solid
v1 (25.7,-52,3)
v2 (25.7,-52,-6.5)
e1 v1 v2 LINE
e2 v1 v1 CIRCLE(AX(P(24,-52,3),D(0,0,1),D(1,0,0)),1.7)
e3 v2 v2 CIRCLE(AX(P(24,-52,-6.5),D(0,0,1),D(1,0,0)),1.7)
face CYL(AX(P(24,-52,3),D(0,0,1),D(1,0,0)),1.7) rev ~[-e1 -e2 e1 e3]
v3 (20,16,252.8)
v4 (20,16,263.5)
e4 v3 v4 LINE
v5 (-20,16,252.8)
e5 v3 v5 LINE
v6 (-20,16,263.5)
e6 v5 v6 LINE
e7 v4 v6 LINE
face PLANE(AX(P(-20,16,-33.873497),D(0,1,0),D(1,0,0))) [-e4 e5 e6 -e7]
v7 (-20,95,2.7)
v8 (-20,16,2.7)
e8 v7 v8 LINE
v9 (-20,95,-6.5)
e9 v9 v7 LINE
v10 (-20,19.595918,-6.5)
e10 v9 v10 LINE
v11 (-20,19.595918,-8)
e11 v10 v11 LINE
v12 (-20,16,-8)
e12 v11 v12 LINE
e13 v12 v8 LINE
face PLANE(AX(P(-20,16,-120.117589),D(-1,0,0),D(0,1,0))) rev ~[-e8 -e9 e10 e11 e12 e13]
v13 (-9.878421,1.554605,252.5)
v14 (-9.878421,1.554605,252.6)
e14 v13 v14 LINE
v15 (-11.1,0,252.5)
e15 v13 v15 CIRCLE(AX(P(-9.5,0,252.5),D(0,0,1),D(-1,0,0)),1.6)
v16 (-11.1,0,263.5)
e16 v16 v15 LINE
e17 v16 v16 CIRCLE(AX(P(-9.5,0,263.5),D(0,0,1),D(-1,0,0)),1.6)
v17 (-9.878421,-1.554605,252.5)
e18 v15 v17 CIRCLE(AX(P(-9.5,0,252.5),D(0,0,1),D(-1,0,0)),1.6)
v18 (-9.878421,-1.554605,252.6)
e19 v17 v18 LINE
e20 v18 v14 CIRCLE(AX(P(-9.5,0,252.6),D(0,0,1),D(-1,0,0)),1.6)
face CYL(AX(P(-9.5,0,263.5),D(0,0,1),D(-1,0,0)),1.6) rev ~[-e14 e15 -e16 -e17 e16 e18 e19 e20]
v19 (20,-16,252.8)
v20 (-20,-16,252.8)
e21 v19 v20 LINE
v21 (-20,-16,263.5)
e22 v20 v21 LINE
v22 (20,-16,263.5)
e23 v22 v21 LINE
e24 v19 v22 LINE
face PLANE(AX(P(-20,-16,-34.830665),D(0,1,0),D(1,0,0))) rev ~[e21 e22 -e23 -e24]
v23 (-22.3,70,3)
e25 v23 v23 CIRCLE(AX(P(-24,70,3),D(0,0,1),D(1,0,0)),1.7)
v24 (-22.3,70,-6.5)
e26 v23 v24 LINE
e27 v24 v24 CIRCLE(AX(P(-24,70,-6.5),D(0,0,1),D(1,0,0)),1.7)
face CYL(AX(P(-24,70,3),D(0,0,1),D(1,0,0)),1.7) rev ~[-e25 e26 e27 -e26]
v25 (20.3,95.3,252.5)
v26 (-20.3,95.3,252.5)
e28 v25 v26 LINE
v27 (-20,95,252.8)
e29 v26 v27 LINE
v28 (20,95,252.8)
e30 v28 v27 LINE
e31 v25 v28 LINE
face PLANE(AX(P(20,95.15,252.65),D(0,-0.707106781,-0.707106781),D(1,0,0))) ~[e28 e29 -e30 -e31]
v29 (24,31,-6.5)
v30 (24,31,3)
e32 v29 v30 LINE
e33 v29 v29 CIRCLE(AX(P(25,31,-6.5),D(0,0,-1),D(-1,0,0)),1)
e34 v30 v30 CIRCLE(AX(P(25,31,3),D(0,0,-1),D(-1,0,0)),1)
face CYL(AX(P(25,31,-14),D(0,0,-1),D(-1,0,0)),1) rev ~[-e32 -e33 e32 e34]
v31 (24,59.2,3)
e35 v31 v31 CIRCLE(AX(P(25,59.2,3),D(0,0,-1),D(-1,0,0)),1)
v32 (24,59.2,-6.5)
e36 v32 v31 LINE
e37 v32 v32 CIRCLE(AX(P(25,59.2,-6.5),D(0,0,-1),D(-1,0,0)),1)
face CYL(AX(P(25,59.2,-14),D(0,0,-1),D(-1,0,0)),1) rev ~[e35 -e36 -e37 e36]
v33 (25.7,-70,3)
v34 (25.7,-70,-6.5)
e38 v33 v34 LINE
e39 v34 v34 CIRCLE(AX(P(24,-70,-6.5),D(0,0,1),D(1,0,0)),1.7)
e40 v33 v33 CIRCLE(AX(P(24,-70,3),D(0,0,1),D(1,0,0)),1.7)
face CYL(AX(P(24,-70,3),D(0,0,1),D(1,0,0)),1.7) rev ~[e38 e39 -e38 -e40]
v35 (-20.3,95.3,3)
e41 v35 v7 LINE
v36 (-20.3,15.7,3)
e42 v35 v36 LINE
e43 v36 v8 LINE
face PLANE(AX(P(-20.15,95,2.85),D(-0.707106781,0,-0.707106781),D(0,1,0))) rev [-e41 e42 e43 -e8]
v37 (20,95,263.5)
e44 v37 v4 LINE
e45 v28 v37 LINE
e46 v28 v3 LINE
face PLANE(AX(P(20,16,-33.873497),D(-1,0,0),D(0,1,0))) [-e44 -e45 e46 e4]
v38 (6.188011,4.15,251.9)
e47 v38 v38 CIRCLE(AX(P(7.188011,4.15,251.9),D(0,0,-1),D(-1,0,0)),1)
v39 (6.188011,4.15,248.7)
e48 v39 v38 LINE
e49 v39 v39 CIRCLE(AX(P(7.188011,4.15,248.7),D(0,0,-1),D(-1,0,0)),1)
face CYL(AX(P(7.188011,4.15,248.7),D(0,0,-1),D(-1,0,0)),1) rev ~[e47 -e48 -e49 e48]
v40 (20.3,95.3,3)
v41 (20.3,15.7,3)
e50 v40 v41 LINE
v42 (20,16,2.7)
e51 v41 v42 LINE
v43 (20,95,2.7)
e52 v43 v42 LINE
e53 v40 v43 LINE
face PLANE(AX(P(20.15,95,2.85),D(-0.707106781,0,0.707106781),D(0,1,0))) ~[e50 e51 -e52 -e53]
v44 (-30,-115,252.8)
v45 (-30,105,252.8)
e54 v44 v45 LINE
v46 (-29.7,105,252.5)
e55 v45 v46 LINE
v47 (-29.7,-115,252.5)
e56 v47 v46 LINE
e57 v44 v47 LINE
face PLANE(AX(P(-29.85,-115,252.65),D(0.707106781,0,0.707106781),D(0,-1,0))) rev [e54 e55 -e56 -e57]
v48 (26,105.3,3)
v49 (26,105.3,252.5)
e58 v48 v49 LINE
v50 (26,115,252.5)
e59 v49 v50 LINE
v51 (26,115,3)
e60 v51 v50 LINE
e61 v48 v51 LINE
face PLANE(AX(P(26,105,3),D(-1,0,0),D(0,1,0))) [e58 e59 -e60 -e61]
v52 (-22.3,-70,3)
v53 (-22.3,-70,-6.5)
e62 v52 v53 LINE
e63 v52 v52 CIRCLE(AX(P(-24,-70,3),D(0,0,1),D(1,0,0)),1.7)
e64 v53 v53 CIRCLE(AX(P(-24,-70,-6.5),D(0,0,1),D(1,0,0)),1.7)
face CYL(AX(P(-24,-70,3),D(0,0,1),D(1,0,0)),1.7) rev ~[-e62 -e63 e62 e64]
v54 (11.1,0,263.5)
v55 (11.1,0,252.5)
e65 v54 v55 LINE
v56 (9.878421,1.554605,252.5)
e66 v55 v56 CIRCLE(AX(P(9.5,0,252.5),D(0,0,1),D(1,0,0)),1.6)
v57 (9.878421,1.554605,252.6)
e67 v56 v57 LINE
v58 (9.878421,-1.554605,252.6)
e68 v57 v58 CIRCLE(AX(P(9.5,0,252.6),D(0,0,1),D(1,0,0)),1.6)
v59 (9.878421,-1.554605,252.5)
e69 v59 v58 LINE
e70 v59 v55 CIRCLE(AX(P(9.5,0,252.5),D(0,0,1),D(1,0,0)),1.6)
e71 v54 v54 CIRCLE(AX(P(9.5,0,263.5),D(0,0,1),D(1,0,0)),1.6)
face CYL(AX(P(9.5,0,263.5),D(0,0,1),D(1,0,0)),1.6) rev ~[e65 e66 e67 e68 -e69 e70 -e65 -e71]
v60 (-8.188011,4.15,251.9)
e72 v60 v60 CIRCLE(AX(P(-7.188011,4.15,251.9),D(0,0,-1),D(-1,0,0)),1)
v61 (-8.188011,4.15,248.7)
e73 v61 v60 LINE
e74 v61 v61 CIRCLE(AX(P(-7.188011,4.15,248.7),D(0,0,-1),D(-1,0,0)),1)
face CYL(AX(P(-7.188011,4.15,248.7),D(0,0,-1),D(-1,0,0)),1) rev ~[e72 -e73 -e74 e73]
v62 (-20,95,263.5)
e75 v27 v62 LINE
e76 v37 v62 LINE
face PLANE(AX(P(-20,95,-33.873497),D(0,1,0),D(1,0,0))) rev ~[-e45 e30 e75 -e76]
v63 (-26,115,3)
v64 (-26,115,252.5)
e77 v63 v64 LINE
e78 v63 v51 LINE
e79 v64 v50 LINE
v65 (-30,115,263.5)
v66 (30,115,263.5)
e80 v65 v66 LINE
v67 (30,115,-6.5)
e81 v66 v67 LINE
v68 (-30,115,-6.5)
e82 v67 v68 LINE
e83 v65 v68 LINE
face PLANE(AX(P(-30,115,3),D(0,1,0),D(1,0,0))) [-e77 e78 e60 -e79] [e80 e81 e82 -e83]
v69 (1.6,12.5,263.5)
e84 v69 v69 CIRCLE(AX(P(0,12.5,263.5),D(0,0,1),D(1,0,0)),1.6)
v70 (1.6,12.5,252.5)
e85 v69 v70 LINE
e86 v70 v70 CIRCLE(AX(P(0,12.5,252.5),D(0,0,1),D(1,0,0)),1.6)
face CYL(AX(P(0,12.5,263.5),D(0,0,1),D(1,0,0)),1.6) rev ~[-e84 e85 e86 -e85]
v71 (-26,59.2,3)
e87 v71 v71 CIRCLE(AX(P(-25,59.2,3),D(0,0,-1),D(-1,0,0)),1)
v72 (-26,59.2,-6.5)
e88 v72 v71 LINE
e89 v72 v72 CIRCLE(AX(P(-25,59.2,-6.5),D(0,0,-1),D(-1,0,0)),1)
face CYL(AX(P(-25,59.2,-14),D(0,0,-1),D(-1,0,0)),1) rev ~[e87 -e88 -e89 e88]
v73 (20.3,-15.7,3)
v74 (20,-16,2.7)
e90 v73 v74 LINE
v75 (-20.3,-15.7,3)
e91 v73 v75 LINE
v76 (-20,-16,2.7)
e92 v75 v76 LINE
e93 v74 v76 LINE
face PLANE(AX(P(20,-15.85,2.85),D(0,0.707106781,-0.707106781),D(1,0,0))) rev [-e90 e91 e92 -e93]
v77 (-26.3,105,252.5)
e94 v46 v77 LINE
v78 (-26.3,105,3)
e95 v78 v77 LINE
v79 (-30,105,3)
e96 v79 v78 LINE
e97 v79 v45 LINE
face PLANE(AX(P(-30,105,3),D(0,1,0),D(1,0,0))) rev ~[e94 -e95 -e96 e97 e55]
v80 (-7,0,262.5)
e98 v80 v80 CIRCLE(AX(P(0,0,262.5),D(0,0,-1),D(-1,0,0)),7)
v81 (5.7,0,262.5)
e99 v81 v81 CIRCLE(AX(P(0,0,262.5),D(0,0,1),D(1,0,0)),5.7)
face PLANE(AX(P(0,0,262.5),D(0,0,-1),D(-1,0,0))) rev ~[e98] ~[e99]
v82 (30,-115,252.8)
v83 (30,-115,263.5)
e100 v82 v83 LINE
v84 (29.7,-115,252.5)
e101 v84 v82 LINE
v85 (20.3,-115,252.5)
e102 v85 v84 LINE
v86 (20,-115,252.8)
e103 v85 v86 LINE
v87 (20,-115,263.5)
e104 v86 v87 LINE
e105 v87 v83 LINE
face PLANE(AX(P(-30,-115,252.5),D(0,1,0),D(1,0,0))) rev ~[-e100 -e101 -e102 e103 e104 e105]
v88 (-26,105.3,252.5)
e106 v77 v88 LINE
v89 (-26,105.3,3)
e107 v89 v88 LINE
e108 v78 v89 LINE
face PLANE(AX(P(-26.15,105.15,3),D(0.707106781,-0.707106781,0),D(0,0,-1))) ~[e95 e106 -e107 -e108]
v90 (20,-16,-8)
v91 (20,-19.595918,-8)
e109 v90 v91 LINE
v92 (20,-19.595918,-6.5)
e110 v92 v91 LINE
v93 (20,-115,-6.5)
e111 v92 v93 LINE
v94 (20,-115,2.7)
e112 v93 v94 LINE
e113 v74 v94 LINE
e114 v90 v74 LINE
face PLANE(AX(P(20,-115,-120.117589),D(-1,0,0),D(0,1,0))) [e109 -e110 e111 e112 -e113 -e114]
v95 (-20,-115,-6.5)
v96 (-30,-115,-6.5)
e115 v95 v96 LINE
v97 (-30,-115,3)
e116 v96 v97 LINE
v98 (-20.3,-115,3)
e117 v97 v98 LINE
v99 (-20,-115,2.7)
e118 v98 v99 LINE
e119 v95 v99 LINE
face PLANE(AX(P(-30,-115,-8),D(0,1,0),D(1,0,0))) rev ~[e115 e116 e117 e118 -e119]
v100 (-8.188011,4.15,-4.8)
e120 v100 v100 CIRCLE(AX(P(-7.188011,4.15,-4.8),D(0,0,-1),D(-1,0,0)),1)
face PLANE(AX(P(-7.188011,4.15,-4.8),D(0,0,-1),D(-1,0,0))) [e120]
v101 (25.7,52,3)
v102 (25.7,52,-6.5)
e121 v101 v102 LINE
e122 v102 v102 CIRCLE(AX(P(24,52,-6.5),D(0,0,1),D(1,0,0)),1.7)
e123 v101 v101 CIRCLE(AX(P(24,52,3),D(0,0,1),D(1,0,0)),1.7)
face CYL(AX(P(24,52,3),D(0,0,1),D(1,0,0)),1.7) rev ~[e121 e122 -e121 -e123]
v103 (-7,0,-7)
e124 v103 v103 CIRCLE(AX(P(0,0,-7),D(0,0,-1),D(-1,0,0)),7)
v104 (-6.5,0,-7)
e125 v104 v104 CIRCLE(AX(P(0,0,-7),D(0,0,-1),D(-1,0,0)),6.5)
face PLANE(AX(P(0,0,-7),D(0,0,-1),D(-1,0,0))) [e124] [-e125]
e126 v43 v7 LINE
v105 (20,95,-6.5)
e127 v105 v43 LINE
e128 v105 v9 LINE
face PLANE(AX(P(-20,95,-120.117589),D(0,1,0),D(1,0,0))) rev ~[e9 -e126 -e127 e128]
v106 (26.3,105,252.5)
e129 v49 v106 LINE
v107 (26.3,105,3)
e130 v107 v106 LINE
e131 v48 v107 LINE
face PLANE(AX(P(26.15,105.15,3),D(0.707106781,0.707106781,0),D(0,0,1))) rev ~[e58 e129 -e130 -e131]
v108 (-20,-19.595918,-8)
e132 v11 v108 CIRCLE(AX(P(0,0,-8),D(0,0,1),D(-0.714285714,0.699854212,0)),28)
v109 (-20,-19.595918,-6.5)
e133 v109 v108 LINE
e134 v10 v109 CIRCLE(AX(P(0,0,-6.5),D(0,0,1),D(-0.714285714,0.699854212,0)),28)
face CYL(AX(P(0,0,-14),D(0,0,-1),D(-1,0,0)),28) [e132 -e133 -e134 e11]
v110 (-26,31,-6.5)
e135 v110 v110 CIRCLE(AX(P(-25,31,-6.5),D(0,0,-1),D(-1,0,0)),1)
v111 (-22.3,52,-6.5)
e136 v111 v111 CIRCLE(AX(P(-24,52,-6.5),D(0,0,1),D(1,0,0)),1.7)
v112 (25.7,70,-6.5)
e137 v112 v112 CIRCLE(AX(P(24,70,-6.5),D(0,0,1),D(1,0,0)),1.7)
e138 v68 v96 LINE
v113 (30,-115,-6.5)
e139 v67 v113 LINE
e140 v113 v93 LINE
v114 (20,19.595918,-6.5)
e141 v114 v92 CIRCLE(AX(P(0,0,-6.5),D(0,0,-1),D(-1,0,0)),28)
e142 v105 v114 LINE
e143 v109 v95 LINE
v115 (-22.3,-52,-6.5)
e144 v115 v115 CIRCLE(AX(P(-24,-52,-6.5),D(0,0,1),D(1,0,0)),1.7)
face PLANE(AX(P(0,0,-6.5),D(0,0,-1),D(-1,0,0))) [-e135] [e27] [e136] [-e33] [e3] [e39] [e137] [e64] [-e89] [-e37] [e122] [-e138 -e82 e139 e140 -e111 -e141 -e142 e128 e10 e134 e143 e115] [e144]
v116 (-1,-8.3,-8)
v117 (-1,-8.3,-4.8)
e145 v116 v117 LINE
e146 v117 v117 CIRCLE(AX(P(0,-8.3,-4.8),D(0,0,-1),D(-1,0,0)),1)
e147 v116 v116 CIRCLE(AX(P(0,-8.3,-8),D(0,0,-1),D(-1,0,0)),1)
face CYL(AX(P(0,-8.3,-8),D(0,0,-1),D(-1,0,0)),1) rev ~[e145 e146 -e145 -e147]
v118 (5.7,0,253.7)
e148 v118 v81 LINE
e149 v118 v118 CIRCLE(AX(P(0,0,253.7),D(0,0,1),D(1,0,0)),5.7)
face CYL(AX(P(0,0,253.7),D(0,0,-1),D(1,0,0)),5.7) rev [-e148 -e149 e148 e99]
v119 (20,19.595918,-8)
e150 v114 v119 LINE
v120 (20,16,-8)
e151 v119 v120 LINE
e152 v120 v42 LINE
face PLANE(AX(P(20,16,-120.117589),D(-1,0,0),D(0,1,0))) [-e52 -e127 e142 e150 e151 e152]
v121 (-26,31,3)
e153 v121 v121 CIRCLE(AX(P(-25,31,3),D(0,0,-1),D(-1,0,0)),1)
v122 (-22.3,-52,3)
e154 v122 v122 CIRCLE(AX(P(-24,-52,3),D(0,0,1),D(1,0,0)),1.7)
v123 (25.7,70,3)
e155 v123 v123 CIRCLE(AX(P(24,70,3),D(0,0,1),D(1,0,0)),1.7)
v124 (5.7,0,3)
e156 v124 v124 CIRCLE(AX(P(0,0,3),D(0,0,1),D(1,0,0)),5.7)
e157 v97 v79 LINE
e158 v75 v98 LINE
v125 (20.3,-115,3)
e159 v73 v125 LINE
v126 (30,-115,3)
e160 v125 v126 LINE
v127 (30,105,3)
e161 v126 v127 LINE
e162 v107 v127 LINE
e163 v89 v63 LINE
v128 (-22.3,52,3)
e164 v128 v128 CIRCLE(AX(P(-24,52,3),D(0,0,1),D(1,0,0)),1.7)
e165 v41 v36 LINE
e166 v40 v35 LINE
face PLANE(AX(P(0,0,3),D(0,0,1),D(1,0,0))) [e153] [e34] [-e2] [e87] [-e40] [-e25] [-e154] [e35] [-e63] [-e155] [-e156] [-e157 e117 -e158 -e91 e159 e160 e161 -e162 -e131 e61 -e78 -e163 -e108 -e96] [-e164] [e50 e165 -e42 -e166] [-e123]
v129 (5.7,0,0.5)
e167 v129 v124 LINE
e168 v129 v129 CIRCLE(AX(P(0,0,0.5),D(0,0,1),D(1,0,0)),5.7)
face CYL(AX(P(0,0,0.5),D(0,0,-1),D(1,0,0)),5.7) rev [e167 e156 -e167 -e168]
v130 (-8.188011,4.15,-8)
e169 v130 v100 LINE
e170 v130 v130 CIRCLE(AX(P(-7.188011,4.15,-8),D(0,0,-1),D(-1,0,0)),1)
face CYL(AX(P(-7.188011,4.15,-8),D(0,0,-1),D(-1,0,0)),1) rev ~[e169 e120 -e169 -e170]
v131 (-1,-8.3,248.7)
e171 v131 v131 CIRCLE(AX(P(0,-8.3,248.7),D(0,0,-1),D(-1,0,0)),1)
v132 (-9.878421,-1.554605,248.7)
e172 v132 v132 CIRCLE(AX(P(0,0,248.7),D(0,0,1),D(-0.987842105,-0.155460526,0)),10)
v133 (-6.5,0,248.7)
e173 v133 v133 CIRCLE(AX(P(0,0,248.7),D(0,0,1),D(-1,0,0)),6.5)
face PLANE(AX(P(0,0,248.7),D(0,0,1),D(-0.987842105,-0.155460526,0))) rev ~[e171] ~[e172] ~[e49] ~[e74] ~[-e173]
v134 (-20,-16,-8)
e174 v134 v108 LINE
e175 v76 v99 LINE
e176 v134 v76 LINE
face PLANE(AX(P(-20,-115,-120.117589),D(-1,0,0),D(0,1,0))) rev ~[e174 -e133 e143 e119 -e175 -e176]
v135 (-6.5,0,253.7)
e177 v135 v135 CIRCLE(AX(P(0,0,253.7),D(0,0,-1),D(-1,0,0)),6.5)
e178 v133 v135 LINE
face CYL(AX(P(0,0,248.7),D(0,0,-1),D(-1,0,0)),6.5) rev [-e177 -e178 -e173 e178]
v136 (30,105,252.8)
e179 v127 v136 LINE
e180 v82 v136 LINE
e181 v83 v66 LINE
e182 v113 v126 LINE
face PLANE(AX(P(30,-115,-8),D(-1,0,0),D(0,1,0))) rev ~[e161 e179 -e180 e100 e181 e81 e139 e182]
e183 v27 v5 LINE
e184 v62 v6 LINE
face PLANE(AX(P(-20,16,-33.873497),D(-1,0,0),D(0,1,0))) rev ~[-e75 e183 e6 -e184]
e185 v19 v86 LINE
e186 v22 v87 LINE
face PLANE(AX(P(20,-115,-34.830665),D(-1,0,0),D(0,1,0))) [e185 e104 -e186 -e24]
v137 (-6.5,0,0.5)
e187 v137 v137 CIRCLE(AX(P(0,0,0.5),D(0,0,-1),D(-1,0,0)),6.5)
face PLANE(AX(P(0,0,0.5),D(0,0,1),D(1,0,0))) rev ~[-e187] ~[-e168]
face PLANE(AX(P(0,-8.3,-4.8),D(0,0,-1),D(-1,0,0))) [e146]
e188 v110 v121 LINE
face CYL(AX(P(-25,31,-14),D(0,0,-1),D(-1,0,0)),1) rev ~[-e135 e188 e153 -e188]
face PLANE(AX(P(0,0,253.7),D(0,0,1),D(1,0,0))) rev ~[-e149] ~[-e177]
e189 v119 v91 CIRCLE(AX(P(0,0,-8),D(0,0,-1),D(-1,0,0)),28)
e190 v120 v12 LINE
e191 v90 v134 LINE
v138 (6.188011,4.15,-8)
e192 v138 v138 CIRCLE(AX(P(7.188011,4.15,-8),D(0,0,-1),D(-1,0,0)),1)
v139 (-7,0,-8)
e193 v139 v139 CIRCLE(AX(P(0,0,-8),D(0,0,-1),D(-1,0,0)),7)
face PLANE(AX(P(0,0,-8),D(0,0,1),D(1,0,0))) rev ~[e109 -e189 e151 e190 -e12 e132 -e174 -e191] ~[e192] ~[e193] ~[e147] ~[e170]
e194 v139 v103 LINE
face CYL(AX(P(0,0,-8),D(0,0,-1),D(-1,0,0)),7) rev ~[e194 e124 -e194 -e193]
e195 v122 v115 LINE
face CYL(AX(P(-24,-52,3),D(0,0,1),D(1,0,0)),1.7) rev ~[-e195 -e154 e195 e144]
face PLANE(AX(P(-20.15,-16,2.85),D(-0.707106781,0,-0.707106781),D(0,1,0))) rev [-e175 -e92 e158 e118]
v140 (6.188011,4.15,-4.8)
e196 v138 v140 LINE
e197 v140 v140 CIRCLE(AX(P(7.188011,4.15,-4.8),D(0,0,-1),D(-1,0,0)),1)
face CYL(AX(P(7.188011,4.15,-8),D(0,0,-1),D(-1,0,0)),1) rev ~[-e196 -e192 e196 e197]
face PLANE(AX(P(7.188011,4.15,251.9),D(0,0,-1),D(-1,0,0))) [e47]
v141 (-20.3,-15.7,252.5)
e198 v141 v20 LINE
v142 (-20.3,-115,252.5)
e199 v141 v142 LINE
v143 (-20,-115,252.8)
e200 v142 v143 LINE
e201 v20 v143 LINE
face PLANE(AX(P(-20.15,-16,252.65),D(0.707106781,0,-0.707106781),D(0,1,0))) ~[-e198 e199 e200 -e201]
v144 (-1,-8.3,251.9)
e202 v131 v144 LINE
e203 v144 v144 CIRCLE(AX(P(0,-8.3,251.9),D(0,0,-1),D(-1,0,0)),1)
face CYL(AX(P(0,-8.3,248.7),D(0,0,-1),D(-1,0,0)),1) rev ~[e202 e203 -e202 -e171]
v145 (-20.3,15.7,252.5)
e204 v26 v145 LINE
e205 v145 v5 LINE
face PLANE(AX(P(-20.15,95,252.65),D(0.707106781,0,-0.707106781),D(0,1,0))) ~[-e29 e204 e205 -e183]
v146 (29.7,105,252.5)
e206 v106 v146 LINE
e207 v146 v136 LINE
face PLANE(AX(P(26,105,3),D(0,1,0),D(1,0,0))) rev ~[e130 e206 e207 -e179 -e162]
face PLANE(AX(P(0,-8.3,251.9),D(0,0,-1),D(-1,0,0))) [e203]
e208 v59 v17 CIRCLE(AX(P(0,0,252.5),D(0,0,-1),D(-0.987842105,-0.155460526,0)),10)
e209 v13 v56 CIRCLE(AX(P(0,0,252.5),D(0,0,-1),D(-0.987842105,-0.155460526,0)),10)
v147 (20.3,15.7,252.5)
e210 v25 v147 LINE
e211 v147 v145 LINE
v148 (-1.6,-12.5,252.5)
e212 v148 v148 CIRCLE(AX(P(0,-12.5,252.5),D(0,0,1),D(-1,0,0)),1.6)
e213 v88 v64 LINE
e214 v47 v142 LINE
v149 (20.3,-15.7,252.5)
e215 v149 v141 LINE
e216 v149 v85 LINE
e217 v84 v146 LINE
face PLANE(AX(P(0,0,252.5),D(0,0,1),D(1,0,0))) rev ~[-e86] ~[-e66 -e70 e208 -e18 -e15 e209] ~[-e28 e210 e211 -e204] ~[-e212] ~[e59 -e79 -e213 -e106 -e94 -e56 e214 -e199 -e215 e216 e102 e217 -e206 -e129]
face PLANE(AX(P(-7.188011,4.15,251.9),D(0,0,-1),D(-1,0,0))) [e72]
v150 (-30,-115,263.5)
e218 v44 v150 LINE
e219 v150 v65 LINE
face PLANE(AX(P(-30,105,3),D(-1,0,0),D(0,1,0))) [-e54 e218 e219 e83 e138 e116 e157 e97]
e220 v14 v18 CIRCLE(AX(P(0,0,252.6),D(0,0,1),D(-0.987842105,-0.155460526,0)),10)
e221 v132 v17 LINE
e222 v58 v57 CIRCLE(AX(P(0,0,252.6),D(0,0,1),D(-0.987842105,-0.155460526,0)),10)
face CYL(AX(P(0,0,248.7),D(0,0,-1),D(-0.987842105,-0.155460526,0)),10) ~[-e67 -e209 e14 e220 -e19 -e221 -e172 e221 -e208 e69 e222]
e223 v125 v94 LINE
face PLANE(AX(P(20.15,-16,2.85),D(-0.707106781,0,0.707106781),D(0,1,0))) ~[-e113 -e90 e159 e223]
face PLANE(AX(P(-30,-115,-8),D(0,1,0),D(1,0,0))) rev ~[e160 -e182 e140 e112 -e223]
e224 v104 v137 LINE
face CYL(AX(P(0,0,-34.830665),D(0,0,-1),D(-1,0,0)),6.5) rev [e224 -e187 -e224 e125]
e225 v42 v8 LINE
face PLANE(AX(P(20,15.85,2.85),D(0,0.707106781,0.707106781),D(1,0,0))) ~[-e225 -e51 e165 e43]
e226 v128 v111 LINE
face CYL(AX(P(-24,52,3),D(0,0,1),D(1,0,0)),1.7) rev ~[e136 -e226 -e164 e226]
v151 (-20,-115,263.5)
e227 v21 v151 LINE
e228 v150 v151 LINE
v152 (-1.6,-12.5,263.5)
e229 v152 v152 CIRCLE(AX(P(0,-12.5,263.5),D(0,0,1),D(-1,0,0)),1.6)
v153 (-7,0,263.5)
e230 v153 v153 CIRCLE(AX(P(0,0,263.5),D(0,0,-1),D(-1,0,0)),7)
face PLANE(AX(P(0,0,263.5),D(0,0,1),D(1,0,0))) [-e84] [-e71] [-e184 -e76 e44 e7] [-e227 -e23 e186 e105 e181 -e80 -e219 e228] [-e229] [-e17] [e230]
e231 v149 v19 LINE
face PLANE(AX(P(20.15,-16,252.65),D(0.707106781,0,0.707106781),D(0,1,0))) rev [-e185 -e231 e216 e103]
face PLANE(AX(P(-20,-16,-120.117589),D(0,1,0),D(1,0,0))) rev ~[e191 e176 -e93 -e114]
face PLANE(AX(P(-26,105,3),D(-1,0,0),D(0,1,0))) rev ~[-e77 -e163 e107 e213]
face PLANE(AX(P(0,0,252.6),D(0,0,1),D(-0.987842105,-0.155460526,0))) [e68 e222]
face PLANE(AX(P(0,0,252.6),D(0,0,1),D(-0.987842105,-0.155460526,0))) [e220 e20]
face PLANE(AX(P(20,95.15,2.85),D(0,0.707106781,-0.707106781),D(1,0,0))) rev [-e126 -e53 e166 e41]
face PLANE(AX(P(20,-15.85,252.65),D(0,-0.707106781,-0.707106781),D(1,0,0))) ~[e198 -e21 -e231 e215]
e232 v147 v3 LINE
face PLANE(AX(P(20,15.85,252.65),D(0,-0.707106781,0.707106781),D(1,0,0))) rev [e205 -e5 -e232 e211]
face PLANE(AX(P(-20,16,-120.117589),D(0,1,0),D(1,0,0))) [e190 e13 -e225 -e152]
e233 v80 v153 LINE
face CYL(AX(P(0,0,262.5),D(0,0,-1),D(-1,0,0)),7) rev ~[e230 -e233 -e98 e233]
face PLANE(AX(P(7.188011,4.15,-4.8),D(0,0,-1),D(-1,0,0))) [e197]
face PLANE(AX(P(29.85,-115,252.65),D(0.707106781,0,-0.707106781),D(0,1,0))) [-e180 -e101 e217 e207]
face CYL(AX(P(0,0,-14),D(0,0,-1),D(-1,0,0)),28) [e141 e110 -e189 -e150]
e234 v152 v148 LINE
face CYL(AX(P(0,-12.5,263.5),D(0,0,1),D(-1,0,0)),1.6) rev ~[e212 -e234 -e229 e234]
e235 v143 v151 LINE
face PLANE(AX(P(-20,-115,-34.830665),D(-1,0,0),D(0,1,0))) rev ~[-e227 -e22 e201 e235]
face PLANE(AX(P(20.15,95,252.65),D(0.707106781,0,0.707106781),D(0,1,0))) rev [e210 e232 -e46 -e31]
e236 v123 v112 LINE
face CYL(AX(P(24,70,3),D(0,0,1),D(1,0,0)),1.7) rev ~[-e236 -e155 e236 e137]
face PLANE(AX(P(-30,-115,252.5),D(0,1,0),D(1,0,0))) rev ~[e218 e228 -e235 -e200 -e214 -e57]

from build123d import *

# Parameters (mm, degrees)
BOSS_EXTRUDE1_START                            = -8
SKETCH1_W                                      = 60
SKETCH1_H                                      = 230
BOSS_EXTRUDE1_DEPTH                            = 11
CUT_EXTRUDE1_DEPTH                             = 120.117588961
CUT_EXTRUDE1_DEPTH_BACK                        = 120.117588961
SKETCH2_W                                      = 40
SKETCH2_H                                      = 99
CUT_EXTRUDE2_DEPTH                             = 120.117588961
CUT_EXTRUDE2_DEPTH_BACK                        = 120.117588961
SKETCH3_W                                      = 40
SKETCH3_H                                      = 79
SKETCH4_W                                      = 60
SKETCH4_H                                      = 230
BOSS_EXTRUDE3_DEPTH                            = 11
CUT_EXTRUDE3_DEPTH                             = 297.373497466
CUT_EXTRUDE3_DEPTH_BACK                        = 297.373497466
SKETCH6_W                                      = 40
SKETCH6_H                                      = 79
CUT_EXTRUDE4_DEPTH                             = 287.33066549
CUT_EXTRUDE4_DEPTH_BACK                        = 287.33066549
SKETCH7_W                                      = 40
SKETCH7_H                                      = 99
SKETCH8_W                                      = 4
SKETCH8_H                                      = 10
BOSS_EXTRUDE4_DEPTH                            = 249.5
CUT_EXTRUDE13_DEPTH                            = 287.33066549
CUT_EXTRUDE13_DEPTH_BACK                       = 287.33066549
SKETCH9_R                                      = 6.5
CUT_EXTRUDE15_START                            = -10
SKETCH13_R                                     = 7
CUT_EXTRUDE15_DEPTH                            = 1
SKETCH14_R                                     = 7
CUT_EXTRUDE16_DEPTH                            = 1
CUT_EXTRUDE17_REACH                            = 298.373
SKETCH15_R                                     = 1.6
SKETCH17_W                                     = 10
SKETCH17_H                                     = 34
BOSS_EXTRUDE5_DEPTH                            = 6
CUT_EXTRUDE18_REACH                            = 303.88
SKETCH18_R                                     = 1
CHAMFER1_SIZE                                  = 0.3
CHAMFER2_SIZE                                  = 0.3
CHAMFER3_SIZE                                  = 0.3
CHAMFER4_SIZE                                  = 0.3
CHAMFER5_SIZE                                  = 0.3
UPPER_BEARING_HOUSING_EXTENSION_START          = 248.7
SKETCH19_R                                     = 10
SKETCH19_R_2                                   = 6.5
UPPER_BEARING_HOUSING_EXTENSION_DEPTH          = 3.9
LOWER_BEARING_OUTER_RACE_SHOULDER_START        = 0.5
SKETCH20_R                                     = 6.51
SKETCH20_R_2                                   = 5.7
LOWER_BEARING_OUTER_RACE_SHOULDER_DEPTH        = 2.5
UPPER_BEARING_OUTER_RACE_SHOULDER_START        = 253.7
SKETCH21_R                                     = 6.51
SKETCH21_R_2                                   = 5.7
UPPER_BEARING_OUTER_RACE_SHOULDER_DEPTH        = 8.8
SKETCH22_R                                     = 1.7
FOUR_STAGE_SUPPORT_D3P4_DEPTH                  = 17.01
SKETCH23_R                                     = 1
LOWER_RETAINER_M2_ENVELOPE_DEPTH               = 3.2
SKETCH24_R                                     = 1
UPPER_RETAINER_M2_ENVELOPE_DEPTH               = 3.2
SKETCH25_R                                     = 130
SKETCH25_R_2                                   = 28
PITCH_LINKAGE_UNDERSIDE_CLEARANCE_R28_UP_DEPTH = 7.5
SKETCH26_R                                     = 1.7
FOUR_LINK_FRAME_SUPPORT_HOLES_Y70_DEPTH        = 9.51


with BuildPart() as part:
    # Sketch1 → Boss-Extrude1 (new body)
    with BuildSketch(Plane.XY.offset(BOSS_EXTRUDE1_START)):
        Rectangle(SKETCH1_W, SKETCH1_H)
    extrude(amount=BOSS_EXTRUDE1_DEPTH)

    # Sketch2 → Cut-Extrude1 (cut, two sides: drawn at the far end of the back side and taken through both)
    with BuildSketch(Plane.XY.offset(-CUT_EXTRUDE1_DEPTH_BACK)):
        with Locations((0, -65.5)):
            Rectangle(SKETCH2_W, SKETCH2_H)
    extrude(amount=CUT_EXTRUDE1_DEPTH + CUT_EXTRUDE1_DEPTH_BACK, mode=Mode.SUBTRACT)

    # Sketch3 → Cut-Extrude2 (cut, two sides: drawn at the far end of the back side and taken through both)
    with BuildSketch(Plane.XY.offset(-CUT_EXTRUDE2_DEPTH_BACK)):
        with Locations((0, 55.5)):
            Rectangle(SKETCH3_W, SKETCH3_H)
    extrude(amount=CUT_EXTRUDE2_DEPTH + CUT_EXTRUDE2_DEPTH_BACK, mode=Mode.SUBTRACT)



with BuildPart() as body_2:
    # Sketch4 → Boss-Extrude3 (new body)
    with BuildSketch(Plane.XY.offset(252.5)):
        Rectangle(SKETCH4_W, SKETCH4_H)
    extrude(amount=BOSS_EXTRUDE3_DEPTH)

    # Sketch6 → Cut-Extrude3 (cut, two sides: drawn at the far end of the back side and taken through both)
    with BuildSketch(Plane.XY.offset(263.5).offset(-CUT_EXTRUDE3_DEPTH_BACK)):
        with Locations((0, 55.5)):
            Rectangle(SKETCH6_W, SKETCH6_H)
    extrude(amount=CUT_EXTRUDE3_DEPTH + CUT_EXTRUDE3_DEPTH_BACK, mode=Mode.SUBTRACT)

    # Sketch7 → Cut-Extrude4 (cut, two sides: drawn at the far end of the back side and taken through both)
    with BuildSketch(Plane.XY.offset(252.5).offset(-CUT_EXTRUDE4_DEPTH_BACK)):
        with Locations((0, -65.5)):
            Rectangle(SKETCH7_W, SKETCH7_H)
    extrude(amount=CUT_EXTRUDE4_DEPTH + CUT_EXTRUDE4_DEPTH_BACK, mode=Mode.SUBTRACT)


with BuildPart() as part_1:
    add(part.part)

    add(body_2.part)  # Boss-Extrude4 merges body 2
    # Sketch8 → Boss-Extrude4 (add)
    with BuildSketch(Plane.XY.offset(3)):
        with Locations((-28, 110)):
            Rectangle(SKETCH8_W, SKETCH8_H)
        with Locations((28, 110)):
            Rectangle(SKETCH8_W, SKETCH8_H)
    extrude(amount=BOSS_EXTRUDE4_DEPTH)

    # Sketch9 → Cut-Extrude13 (cut, two sides: drawn at the far end of the back side and taken through both)
    with BuildSketch(Plane.XY.offset(252.5).offset(-CUT_EXTRUDE13_DEPTH_BACK)):
        with Locations(Location((0, 0, 0), (0, 0, 180))):
            Circle(SKETCH9_R)
    extrude(amount=CUT_EXTRUDE13_DEPTH + CUT_EXTRUDE13_DEPTH_BACK, mode=Mode.SUBTRACT)

    # Sketch13 → Cut-Extrude15 (cut)
    with BuildSketch(Plane(origin=(0, 0, 252.5), x_dir=(-1, 0, 0), z_dir=(0, 0, -1)).offset(CUT_EXTRUDE15_START)):
        Circle(SKETCH13_R)
    extrude(amount=-CUT_EXTRUDE15_DEPTH, mode=Mode.SUBTRACT)

    # Sketch14 → Cut-Extrude16 (cut)
    with BuildSketch(Plane(origin=(0, 0, -8), x_dir=(-1, 0, 0), z_dir=(0, 0, -1))):
        Circle(SKETCH14_R)
    extrude(amount=-CUT_EXTRUDE16_DEPTH, mode=Mode.SUBTRACT)

    # Sketch15 → Cut-Extrude17 (cut, up to next)
    with BuildSketch(Plane.XY.offset(263.5), mode=Mode.PRIVATE) as cut_extrude17_sk1:
        with Locations((9.5, 0)):
            Circle(SKETCH15_R)
    cut_extrude17_tool1 = extrude(cut_extrude17_sk1.sketch, amount=-CUT_EXTRUDE17_REACH, mode=Mode.PRIVATE) & part_1.part
    # Sketch15 → Cut-Extrude17 (cut, up to next)
    with BuildSketch(Plane.XY.offset(263.5), mode=Mode.PRIVATE) as cut_extrude17_sk2:
        with Locations(Location((-9.5, 0, 0), (0, 0, 180))):
            Circle(SKETCH15_R)
    cut_extrude17_tool2 = extrude(cut_extrude17_sk2.sketch, amount=-CUT_EXTRUDE17_REACH, mode=Mode.PRIVATE) & part_1.part
    # Sketch15 → Cut-Extrude17 (cut, up to next)
    with BuildSketch(Plane.XY.offset(263.5), mode=Mode.PRIVATE) as cut_extrude17_sk3:
        with Locations((0, 12.5)):
            Circle(SKETCH15_R)
    cut_extrude17_tool3 = extrude(cut_extrude17_sk3.sketch, amount=-CUT_EXTRUDE17_REACH, mode=Mode.PRIVATE) & part_1.part
    # Sketch15 → Cut-Extrude17 (cut, up to next)
    with BuildSketch(Plane.XY.offset(263.5), mode=Mode.PRIVATE) as cut_extrude17_sk4:
        with Locations(Location((0, -12.5, 0), (0, 0, 180))):
            Circle(SKETCH15_R)
    cut_extrude17_tool4 = extrude(cut_extrude17_sk4.sketch, amount=-CUT_EXTRUDE17_REACH, mode=Mode.PRIVATE) & part_1.part
    add(cut_extrude17_tool1.solids().sort_by_distance((9.5, 0, 263.5))[0], mode=Mode.SUBTRACT)
    add(cut_extrude17_tool2.solids().sort_by_distance((-9.5, 0, 263.5))[0], mode=Mode.SUBTRACT)
    add(cut_extrude17_tool3.solids().sort_by_distance((0, 12.5, 263.5))[0], mode=Mode.SUBTRACT)
    add(cut_extrude17_tool4.solids().sort_by_distance((0, -12.5, 263.5))[0], mode=Mode.SUBTRACT)

    # Sketch17 → Boss-Extrude5 (add)
    with BuildSketch(Plane(origin=(0, 0, -8), x_dir=(-1, 0, 0), z_dir=(0, 0, -1))):
        with Locations((25, 45)):
            Rectangle(SKETCH17_W, SKETCH17_H)
        with Locations((-25, 45)):
            Rectangle(SKETCH17_W, SKETCH17_H)
    extrude(amount=BOSS_EXTRUDE5_DEPTH)

    # Sketch18 → Cut-Extrude18 (cut, up to next)
    with BuildSketch(Plane(origin=(0, 0, -14), x_dir=(-1, 0, 0), z_dir=(0, 0, -1)), mode=Mode.PRIVATE) as cut_extrude18_sk1:
        with Locations((-25, 59.2)):
            Circle(SKETCH18_R)
    cut_extrude18_tool1 = extrude(cut_extrude18_sk1.sketch, amount=-CUT_EXTRUDE18_REACH, mode=Mode.PRIVATE) & part_1.part
    # Sketch18 → Cut-Extrude18 (cut, up to next)
    with BuildSketch(Plane(origin=(0, 0, -14), x_dir=(-1, 0, 0), z_dir=(0, 0, -1)), mode=Mode.PRIVATE) as cut_extrude18_sk2:
        with Locations((-25, 31)):
            Circle(SKETCH18_R)
    cut_extrude18_tool2 = extrude(cut_extrude18_sk2.sketch, amount=-CUT_EXTRUDE18_REACH, mode=Mode.PRIVATE) & part_1.part
    # Sketch18 → Cut-Extrude18 (cut, up to next)
    with BuildSketch(Plane(origin=(0, 0, -14), x_dir=(-1, 0, 0), z_dir=(0, 0, -1)), mode=Mode.PRIVATE) as cut_extrude18_sk3:
        with Locations((25, 59.2)):
            Circle(SKETCH18_R)
    cut_extrude18_tool3 = extrude(cut_extrude18_sk3.sketch, amount=-CUT_EXTRUDE18_REACH, mode=Mode.PRIVATE) & part_1.part
    # Sketch18 → Cut-Extrude18 (cut, up to next)
    with BuildSketch(Plane(origin=(0, 0, -14), x_dir=(-1, 0, 0), z_dir=(0, 0, -1)), mode=Mode.PRIVATE) as cut_extrude18_sk4:
        with Locations((25, 31)):
            Circle(SKETCH18_R)
    cut_extrude18_tool4 = extrude(cut_extrude18_sk4.sketch, amount=-CUT_EXTRUDE18_REACH, mode=Mode.PRIVATE) & part_1.part
    add(cut_extrude18_tool1.solids().sort_by_distance((25, 59.2, -14))[0], mode=Mode.SUBTRACT)
    add(cut_extrude18_tool2.solids().sort_by_distance((25, 31, -14))[0], mode=Mode.SUBTRACT)
    add(cut_extrude18_tool3.solids().sort_by_distance((-25, 59.2, -14))[0], mode=Mode.SUBTRACT)
    add(cut_extrude18_tool4.solids().sort_by_distance((-25, 31, -14))[0], mode=Mode.SUBTRACT)

    # Chamfer1
    chamfer1_edges = [part_1.edges().sort_by_distance(p)[0] for p in [
        (-30, -5, 252.5),
    ]]
    chamfer(chamfer1_edges, length=CHAMFER1_SIZE)

    # Chamfer2
    chamfer2_edges = [part_1.edges().sort_by_distance(p)[0] for p in [
        (30, -5, 252.5),
    ]]
    chamfer(chamfer2_edges, length=CHAMFER2_SIZE)

    # Chamfer3
    chamfer3_edges = [part_1.edges().sort_by_distance(p)[0] for p in [
        (-26, 105, 127.75),
        (26, 105, 127.75),
    ]]
    chamfer(chamfer3_edges, length=CHAMFER3_SIZE)

    # Chamfer4
    chamfer4_edges = [part_1.edges().sort_by_distance(p)[0] for p in [
        (-20, -65.5, 3),
        (20, -65.5, 3),
        (0, -16, 3),
        (20, 55.5, 3),
        (0, 95, 3),
        (-20, 55.5, 3),
        (0, 16, 3),
    ]]
    chamfer(chamfer4_edges, length=CHAMFER4_SIZE)

    # Chamfer5
    chamfer5_edges = [part_1.edges().sort_by_distance(p)[0] for p in [
        (20, -65.5, 252.5),
        (0, -16, 252.5),
        (-20, -65.5, 252.5),
        (20, 55.5, 252.5),
        (0, 16, 252.5),
        (-20, 55.5, 252.5),
        (0, 95, 252.5),
    ]]
    chamfer(chamfer5_edges, length=CHAMFER5_SIZE)

    # Sketch19 → Upper_Bearing_Housing_Extension (add)
    with BuildSketch(Plane.XY.offset(UPPER_BEARING_HOUSING_EXTENSION_START)):
        with Locations(Location((0, 0, 0), (0, 0, 188.943506205))):
            Circle(SKETCH19_R)
        with Locations(Location((0, 0, 0), (0, 0, 180))):
            Circle(SKETCH19_R_2, mode=Mode.SUBTRACT)
    extrude(amount=UPPER_BEARING_HOUSING_EXTENSION_DEPTH)

    # Sketch20 → Lower_Bearing_Outer_Race_Shoulder (add)
    with BuildSketch(Plane.XY.offset(LOWER_BEARING_OUTER_RACE_SHOULDER_START)):
        Circle(SKETCH20_R)
        Circle(SKETCH20_R_2, mode=Mode.SUBTRACT)
    extrude(amount=LOWER_BEARING_OUTER_RACE_SHOULDER_DEPTH)

    # Sketch21 → Upper_Bearing_Outer_Race_Shoulder (add)
    with BuildSketch(Plane.XY.offset(UPPER_BEARING_OUTER_RACE_SHOULDER_START)):
        Circle(SKETCH21_R)
        Circle(SKETCH21_R_2, mode=Mode.SUBTRACT)
    extrude(amount=UPPER_BEARING_OUTER_RACE_SHOULDER_DEPTH)

    # Sketch22 → Four_Stage_Support_D3p4 (cut)
    with BuildSketch(Plane.XY.offset(3)):
        with Locations((-24, -52)):
            Circle(SKETCH22_R)
        with Locations((-24, 52)):
            Circle(SKETCH22_R)
        with Locations((24, -52)):
            Circle(SKETCH22_R)
        with Locations((24, 52)):
            Circle(SKETCH22_R)
    extrude(amount=-FOUR_STAGE_SUPPORT_D3P4_DEPTH, mode=Mode.SUBTRACT)

    # Sketch23 → Lower_Retainer_M2_Envelope (cut)
    with BuildSketch(Plane(origin=(0, 0, -8), x_dir=(-1, 0, 0), z_dir=(0, 0, -1))):
        with Locations((-7.188010851, 4.15)):
            Circle(SKETCH23_R)
        with Locations((7.188010851, 4.15)):
            Circle(SKETCH23_R)
        with Locations((0, -8.3)):
            Circle(SKETCH23_R)
    extrude(amount=-LOWER_RETAINER_M2_ENVELOPE_DEPTH, mode=Mode.SUBTRACT)

    # Sketch24 → Upper_Retainer_M2_Envelope (cut)
    with BuildSketch(Plane(origin=(0, 0, 248.7), x_dir=(-1, 0, 0), z_dir=(0, 0, -1))):
        with Locations((-7.188010851, 4.15)):
            Circle(SKETCH24_R)
        with Locations((7.188010851, 4.15)):
            Circle(SKETCH24_R)
        with Locations((0, -8.3)):
            Circle(SKETCH24_R)
    extrude(amount=-UPPER_RETAINER_M2_ENVELOPE_DEPTH, mode=Mode.SUBTRACT)

    # Sketch25 → Pitch_Linkage_Underside_Clearance_R28_Up7p5 (cut)
    with BuildSketch(Plane(origin=(0, 0, -14), x_dir=(-1, 0, 0), z_dir=(0, 0, -1))):
        Circle(SKETCH25_R)
        Circle(SKETCH25_R_2, mode=Mode.SUBTRACT)
    extrude(amount=-PITCH_LINKAGE_UNDERSIDE_CLEARANCE_R28_UP_DEPTH, mode=Mode.SUBTRACT)

    # Sketch26 → Four_Link_Frame_Support_Holes_Y70 (cut)
    with BuildSketch(Plane.XY.offset(3)):
        with Locations((-24, -70)):
            Circle(SKETCH26_R)
        with Locations((-24, 70)):
            Circle(SKETCH26_R)
        with Locations((24, -70)):
            Circle(SKETCH26_R)
        with Locations((24, 70)):
            Circle(SKETCH26_R)
    extrude(amount=-FOUR_LINK_FRAME_SUPPORT_HOLES_Y70_DEPTH, mode=Mode.SUBTRACT)


solid = part_1.part
